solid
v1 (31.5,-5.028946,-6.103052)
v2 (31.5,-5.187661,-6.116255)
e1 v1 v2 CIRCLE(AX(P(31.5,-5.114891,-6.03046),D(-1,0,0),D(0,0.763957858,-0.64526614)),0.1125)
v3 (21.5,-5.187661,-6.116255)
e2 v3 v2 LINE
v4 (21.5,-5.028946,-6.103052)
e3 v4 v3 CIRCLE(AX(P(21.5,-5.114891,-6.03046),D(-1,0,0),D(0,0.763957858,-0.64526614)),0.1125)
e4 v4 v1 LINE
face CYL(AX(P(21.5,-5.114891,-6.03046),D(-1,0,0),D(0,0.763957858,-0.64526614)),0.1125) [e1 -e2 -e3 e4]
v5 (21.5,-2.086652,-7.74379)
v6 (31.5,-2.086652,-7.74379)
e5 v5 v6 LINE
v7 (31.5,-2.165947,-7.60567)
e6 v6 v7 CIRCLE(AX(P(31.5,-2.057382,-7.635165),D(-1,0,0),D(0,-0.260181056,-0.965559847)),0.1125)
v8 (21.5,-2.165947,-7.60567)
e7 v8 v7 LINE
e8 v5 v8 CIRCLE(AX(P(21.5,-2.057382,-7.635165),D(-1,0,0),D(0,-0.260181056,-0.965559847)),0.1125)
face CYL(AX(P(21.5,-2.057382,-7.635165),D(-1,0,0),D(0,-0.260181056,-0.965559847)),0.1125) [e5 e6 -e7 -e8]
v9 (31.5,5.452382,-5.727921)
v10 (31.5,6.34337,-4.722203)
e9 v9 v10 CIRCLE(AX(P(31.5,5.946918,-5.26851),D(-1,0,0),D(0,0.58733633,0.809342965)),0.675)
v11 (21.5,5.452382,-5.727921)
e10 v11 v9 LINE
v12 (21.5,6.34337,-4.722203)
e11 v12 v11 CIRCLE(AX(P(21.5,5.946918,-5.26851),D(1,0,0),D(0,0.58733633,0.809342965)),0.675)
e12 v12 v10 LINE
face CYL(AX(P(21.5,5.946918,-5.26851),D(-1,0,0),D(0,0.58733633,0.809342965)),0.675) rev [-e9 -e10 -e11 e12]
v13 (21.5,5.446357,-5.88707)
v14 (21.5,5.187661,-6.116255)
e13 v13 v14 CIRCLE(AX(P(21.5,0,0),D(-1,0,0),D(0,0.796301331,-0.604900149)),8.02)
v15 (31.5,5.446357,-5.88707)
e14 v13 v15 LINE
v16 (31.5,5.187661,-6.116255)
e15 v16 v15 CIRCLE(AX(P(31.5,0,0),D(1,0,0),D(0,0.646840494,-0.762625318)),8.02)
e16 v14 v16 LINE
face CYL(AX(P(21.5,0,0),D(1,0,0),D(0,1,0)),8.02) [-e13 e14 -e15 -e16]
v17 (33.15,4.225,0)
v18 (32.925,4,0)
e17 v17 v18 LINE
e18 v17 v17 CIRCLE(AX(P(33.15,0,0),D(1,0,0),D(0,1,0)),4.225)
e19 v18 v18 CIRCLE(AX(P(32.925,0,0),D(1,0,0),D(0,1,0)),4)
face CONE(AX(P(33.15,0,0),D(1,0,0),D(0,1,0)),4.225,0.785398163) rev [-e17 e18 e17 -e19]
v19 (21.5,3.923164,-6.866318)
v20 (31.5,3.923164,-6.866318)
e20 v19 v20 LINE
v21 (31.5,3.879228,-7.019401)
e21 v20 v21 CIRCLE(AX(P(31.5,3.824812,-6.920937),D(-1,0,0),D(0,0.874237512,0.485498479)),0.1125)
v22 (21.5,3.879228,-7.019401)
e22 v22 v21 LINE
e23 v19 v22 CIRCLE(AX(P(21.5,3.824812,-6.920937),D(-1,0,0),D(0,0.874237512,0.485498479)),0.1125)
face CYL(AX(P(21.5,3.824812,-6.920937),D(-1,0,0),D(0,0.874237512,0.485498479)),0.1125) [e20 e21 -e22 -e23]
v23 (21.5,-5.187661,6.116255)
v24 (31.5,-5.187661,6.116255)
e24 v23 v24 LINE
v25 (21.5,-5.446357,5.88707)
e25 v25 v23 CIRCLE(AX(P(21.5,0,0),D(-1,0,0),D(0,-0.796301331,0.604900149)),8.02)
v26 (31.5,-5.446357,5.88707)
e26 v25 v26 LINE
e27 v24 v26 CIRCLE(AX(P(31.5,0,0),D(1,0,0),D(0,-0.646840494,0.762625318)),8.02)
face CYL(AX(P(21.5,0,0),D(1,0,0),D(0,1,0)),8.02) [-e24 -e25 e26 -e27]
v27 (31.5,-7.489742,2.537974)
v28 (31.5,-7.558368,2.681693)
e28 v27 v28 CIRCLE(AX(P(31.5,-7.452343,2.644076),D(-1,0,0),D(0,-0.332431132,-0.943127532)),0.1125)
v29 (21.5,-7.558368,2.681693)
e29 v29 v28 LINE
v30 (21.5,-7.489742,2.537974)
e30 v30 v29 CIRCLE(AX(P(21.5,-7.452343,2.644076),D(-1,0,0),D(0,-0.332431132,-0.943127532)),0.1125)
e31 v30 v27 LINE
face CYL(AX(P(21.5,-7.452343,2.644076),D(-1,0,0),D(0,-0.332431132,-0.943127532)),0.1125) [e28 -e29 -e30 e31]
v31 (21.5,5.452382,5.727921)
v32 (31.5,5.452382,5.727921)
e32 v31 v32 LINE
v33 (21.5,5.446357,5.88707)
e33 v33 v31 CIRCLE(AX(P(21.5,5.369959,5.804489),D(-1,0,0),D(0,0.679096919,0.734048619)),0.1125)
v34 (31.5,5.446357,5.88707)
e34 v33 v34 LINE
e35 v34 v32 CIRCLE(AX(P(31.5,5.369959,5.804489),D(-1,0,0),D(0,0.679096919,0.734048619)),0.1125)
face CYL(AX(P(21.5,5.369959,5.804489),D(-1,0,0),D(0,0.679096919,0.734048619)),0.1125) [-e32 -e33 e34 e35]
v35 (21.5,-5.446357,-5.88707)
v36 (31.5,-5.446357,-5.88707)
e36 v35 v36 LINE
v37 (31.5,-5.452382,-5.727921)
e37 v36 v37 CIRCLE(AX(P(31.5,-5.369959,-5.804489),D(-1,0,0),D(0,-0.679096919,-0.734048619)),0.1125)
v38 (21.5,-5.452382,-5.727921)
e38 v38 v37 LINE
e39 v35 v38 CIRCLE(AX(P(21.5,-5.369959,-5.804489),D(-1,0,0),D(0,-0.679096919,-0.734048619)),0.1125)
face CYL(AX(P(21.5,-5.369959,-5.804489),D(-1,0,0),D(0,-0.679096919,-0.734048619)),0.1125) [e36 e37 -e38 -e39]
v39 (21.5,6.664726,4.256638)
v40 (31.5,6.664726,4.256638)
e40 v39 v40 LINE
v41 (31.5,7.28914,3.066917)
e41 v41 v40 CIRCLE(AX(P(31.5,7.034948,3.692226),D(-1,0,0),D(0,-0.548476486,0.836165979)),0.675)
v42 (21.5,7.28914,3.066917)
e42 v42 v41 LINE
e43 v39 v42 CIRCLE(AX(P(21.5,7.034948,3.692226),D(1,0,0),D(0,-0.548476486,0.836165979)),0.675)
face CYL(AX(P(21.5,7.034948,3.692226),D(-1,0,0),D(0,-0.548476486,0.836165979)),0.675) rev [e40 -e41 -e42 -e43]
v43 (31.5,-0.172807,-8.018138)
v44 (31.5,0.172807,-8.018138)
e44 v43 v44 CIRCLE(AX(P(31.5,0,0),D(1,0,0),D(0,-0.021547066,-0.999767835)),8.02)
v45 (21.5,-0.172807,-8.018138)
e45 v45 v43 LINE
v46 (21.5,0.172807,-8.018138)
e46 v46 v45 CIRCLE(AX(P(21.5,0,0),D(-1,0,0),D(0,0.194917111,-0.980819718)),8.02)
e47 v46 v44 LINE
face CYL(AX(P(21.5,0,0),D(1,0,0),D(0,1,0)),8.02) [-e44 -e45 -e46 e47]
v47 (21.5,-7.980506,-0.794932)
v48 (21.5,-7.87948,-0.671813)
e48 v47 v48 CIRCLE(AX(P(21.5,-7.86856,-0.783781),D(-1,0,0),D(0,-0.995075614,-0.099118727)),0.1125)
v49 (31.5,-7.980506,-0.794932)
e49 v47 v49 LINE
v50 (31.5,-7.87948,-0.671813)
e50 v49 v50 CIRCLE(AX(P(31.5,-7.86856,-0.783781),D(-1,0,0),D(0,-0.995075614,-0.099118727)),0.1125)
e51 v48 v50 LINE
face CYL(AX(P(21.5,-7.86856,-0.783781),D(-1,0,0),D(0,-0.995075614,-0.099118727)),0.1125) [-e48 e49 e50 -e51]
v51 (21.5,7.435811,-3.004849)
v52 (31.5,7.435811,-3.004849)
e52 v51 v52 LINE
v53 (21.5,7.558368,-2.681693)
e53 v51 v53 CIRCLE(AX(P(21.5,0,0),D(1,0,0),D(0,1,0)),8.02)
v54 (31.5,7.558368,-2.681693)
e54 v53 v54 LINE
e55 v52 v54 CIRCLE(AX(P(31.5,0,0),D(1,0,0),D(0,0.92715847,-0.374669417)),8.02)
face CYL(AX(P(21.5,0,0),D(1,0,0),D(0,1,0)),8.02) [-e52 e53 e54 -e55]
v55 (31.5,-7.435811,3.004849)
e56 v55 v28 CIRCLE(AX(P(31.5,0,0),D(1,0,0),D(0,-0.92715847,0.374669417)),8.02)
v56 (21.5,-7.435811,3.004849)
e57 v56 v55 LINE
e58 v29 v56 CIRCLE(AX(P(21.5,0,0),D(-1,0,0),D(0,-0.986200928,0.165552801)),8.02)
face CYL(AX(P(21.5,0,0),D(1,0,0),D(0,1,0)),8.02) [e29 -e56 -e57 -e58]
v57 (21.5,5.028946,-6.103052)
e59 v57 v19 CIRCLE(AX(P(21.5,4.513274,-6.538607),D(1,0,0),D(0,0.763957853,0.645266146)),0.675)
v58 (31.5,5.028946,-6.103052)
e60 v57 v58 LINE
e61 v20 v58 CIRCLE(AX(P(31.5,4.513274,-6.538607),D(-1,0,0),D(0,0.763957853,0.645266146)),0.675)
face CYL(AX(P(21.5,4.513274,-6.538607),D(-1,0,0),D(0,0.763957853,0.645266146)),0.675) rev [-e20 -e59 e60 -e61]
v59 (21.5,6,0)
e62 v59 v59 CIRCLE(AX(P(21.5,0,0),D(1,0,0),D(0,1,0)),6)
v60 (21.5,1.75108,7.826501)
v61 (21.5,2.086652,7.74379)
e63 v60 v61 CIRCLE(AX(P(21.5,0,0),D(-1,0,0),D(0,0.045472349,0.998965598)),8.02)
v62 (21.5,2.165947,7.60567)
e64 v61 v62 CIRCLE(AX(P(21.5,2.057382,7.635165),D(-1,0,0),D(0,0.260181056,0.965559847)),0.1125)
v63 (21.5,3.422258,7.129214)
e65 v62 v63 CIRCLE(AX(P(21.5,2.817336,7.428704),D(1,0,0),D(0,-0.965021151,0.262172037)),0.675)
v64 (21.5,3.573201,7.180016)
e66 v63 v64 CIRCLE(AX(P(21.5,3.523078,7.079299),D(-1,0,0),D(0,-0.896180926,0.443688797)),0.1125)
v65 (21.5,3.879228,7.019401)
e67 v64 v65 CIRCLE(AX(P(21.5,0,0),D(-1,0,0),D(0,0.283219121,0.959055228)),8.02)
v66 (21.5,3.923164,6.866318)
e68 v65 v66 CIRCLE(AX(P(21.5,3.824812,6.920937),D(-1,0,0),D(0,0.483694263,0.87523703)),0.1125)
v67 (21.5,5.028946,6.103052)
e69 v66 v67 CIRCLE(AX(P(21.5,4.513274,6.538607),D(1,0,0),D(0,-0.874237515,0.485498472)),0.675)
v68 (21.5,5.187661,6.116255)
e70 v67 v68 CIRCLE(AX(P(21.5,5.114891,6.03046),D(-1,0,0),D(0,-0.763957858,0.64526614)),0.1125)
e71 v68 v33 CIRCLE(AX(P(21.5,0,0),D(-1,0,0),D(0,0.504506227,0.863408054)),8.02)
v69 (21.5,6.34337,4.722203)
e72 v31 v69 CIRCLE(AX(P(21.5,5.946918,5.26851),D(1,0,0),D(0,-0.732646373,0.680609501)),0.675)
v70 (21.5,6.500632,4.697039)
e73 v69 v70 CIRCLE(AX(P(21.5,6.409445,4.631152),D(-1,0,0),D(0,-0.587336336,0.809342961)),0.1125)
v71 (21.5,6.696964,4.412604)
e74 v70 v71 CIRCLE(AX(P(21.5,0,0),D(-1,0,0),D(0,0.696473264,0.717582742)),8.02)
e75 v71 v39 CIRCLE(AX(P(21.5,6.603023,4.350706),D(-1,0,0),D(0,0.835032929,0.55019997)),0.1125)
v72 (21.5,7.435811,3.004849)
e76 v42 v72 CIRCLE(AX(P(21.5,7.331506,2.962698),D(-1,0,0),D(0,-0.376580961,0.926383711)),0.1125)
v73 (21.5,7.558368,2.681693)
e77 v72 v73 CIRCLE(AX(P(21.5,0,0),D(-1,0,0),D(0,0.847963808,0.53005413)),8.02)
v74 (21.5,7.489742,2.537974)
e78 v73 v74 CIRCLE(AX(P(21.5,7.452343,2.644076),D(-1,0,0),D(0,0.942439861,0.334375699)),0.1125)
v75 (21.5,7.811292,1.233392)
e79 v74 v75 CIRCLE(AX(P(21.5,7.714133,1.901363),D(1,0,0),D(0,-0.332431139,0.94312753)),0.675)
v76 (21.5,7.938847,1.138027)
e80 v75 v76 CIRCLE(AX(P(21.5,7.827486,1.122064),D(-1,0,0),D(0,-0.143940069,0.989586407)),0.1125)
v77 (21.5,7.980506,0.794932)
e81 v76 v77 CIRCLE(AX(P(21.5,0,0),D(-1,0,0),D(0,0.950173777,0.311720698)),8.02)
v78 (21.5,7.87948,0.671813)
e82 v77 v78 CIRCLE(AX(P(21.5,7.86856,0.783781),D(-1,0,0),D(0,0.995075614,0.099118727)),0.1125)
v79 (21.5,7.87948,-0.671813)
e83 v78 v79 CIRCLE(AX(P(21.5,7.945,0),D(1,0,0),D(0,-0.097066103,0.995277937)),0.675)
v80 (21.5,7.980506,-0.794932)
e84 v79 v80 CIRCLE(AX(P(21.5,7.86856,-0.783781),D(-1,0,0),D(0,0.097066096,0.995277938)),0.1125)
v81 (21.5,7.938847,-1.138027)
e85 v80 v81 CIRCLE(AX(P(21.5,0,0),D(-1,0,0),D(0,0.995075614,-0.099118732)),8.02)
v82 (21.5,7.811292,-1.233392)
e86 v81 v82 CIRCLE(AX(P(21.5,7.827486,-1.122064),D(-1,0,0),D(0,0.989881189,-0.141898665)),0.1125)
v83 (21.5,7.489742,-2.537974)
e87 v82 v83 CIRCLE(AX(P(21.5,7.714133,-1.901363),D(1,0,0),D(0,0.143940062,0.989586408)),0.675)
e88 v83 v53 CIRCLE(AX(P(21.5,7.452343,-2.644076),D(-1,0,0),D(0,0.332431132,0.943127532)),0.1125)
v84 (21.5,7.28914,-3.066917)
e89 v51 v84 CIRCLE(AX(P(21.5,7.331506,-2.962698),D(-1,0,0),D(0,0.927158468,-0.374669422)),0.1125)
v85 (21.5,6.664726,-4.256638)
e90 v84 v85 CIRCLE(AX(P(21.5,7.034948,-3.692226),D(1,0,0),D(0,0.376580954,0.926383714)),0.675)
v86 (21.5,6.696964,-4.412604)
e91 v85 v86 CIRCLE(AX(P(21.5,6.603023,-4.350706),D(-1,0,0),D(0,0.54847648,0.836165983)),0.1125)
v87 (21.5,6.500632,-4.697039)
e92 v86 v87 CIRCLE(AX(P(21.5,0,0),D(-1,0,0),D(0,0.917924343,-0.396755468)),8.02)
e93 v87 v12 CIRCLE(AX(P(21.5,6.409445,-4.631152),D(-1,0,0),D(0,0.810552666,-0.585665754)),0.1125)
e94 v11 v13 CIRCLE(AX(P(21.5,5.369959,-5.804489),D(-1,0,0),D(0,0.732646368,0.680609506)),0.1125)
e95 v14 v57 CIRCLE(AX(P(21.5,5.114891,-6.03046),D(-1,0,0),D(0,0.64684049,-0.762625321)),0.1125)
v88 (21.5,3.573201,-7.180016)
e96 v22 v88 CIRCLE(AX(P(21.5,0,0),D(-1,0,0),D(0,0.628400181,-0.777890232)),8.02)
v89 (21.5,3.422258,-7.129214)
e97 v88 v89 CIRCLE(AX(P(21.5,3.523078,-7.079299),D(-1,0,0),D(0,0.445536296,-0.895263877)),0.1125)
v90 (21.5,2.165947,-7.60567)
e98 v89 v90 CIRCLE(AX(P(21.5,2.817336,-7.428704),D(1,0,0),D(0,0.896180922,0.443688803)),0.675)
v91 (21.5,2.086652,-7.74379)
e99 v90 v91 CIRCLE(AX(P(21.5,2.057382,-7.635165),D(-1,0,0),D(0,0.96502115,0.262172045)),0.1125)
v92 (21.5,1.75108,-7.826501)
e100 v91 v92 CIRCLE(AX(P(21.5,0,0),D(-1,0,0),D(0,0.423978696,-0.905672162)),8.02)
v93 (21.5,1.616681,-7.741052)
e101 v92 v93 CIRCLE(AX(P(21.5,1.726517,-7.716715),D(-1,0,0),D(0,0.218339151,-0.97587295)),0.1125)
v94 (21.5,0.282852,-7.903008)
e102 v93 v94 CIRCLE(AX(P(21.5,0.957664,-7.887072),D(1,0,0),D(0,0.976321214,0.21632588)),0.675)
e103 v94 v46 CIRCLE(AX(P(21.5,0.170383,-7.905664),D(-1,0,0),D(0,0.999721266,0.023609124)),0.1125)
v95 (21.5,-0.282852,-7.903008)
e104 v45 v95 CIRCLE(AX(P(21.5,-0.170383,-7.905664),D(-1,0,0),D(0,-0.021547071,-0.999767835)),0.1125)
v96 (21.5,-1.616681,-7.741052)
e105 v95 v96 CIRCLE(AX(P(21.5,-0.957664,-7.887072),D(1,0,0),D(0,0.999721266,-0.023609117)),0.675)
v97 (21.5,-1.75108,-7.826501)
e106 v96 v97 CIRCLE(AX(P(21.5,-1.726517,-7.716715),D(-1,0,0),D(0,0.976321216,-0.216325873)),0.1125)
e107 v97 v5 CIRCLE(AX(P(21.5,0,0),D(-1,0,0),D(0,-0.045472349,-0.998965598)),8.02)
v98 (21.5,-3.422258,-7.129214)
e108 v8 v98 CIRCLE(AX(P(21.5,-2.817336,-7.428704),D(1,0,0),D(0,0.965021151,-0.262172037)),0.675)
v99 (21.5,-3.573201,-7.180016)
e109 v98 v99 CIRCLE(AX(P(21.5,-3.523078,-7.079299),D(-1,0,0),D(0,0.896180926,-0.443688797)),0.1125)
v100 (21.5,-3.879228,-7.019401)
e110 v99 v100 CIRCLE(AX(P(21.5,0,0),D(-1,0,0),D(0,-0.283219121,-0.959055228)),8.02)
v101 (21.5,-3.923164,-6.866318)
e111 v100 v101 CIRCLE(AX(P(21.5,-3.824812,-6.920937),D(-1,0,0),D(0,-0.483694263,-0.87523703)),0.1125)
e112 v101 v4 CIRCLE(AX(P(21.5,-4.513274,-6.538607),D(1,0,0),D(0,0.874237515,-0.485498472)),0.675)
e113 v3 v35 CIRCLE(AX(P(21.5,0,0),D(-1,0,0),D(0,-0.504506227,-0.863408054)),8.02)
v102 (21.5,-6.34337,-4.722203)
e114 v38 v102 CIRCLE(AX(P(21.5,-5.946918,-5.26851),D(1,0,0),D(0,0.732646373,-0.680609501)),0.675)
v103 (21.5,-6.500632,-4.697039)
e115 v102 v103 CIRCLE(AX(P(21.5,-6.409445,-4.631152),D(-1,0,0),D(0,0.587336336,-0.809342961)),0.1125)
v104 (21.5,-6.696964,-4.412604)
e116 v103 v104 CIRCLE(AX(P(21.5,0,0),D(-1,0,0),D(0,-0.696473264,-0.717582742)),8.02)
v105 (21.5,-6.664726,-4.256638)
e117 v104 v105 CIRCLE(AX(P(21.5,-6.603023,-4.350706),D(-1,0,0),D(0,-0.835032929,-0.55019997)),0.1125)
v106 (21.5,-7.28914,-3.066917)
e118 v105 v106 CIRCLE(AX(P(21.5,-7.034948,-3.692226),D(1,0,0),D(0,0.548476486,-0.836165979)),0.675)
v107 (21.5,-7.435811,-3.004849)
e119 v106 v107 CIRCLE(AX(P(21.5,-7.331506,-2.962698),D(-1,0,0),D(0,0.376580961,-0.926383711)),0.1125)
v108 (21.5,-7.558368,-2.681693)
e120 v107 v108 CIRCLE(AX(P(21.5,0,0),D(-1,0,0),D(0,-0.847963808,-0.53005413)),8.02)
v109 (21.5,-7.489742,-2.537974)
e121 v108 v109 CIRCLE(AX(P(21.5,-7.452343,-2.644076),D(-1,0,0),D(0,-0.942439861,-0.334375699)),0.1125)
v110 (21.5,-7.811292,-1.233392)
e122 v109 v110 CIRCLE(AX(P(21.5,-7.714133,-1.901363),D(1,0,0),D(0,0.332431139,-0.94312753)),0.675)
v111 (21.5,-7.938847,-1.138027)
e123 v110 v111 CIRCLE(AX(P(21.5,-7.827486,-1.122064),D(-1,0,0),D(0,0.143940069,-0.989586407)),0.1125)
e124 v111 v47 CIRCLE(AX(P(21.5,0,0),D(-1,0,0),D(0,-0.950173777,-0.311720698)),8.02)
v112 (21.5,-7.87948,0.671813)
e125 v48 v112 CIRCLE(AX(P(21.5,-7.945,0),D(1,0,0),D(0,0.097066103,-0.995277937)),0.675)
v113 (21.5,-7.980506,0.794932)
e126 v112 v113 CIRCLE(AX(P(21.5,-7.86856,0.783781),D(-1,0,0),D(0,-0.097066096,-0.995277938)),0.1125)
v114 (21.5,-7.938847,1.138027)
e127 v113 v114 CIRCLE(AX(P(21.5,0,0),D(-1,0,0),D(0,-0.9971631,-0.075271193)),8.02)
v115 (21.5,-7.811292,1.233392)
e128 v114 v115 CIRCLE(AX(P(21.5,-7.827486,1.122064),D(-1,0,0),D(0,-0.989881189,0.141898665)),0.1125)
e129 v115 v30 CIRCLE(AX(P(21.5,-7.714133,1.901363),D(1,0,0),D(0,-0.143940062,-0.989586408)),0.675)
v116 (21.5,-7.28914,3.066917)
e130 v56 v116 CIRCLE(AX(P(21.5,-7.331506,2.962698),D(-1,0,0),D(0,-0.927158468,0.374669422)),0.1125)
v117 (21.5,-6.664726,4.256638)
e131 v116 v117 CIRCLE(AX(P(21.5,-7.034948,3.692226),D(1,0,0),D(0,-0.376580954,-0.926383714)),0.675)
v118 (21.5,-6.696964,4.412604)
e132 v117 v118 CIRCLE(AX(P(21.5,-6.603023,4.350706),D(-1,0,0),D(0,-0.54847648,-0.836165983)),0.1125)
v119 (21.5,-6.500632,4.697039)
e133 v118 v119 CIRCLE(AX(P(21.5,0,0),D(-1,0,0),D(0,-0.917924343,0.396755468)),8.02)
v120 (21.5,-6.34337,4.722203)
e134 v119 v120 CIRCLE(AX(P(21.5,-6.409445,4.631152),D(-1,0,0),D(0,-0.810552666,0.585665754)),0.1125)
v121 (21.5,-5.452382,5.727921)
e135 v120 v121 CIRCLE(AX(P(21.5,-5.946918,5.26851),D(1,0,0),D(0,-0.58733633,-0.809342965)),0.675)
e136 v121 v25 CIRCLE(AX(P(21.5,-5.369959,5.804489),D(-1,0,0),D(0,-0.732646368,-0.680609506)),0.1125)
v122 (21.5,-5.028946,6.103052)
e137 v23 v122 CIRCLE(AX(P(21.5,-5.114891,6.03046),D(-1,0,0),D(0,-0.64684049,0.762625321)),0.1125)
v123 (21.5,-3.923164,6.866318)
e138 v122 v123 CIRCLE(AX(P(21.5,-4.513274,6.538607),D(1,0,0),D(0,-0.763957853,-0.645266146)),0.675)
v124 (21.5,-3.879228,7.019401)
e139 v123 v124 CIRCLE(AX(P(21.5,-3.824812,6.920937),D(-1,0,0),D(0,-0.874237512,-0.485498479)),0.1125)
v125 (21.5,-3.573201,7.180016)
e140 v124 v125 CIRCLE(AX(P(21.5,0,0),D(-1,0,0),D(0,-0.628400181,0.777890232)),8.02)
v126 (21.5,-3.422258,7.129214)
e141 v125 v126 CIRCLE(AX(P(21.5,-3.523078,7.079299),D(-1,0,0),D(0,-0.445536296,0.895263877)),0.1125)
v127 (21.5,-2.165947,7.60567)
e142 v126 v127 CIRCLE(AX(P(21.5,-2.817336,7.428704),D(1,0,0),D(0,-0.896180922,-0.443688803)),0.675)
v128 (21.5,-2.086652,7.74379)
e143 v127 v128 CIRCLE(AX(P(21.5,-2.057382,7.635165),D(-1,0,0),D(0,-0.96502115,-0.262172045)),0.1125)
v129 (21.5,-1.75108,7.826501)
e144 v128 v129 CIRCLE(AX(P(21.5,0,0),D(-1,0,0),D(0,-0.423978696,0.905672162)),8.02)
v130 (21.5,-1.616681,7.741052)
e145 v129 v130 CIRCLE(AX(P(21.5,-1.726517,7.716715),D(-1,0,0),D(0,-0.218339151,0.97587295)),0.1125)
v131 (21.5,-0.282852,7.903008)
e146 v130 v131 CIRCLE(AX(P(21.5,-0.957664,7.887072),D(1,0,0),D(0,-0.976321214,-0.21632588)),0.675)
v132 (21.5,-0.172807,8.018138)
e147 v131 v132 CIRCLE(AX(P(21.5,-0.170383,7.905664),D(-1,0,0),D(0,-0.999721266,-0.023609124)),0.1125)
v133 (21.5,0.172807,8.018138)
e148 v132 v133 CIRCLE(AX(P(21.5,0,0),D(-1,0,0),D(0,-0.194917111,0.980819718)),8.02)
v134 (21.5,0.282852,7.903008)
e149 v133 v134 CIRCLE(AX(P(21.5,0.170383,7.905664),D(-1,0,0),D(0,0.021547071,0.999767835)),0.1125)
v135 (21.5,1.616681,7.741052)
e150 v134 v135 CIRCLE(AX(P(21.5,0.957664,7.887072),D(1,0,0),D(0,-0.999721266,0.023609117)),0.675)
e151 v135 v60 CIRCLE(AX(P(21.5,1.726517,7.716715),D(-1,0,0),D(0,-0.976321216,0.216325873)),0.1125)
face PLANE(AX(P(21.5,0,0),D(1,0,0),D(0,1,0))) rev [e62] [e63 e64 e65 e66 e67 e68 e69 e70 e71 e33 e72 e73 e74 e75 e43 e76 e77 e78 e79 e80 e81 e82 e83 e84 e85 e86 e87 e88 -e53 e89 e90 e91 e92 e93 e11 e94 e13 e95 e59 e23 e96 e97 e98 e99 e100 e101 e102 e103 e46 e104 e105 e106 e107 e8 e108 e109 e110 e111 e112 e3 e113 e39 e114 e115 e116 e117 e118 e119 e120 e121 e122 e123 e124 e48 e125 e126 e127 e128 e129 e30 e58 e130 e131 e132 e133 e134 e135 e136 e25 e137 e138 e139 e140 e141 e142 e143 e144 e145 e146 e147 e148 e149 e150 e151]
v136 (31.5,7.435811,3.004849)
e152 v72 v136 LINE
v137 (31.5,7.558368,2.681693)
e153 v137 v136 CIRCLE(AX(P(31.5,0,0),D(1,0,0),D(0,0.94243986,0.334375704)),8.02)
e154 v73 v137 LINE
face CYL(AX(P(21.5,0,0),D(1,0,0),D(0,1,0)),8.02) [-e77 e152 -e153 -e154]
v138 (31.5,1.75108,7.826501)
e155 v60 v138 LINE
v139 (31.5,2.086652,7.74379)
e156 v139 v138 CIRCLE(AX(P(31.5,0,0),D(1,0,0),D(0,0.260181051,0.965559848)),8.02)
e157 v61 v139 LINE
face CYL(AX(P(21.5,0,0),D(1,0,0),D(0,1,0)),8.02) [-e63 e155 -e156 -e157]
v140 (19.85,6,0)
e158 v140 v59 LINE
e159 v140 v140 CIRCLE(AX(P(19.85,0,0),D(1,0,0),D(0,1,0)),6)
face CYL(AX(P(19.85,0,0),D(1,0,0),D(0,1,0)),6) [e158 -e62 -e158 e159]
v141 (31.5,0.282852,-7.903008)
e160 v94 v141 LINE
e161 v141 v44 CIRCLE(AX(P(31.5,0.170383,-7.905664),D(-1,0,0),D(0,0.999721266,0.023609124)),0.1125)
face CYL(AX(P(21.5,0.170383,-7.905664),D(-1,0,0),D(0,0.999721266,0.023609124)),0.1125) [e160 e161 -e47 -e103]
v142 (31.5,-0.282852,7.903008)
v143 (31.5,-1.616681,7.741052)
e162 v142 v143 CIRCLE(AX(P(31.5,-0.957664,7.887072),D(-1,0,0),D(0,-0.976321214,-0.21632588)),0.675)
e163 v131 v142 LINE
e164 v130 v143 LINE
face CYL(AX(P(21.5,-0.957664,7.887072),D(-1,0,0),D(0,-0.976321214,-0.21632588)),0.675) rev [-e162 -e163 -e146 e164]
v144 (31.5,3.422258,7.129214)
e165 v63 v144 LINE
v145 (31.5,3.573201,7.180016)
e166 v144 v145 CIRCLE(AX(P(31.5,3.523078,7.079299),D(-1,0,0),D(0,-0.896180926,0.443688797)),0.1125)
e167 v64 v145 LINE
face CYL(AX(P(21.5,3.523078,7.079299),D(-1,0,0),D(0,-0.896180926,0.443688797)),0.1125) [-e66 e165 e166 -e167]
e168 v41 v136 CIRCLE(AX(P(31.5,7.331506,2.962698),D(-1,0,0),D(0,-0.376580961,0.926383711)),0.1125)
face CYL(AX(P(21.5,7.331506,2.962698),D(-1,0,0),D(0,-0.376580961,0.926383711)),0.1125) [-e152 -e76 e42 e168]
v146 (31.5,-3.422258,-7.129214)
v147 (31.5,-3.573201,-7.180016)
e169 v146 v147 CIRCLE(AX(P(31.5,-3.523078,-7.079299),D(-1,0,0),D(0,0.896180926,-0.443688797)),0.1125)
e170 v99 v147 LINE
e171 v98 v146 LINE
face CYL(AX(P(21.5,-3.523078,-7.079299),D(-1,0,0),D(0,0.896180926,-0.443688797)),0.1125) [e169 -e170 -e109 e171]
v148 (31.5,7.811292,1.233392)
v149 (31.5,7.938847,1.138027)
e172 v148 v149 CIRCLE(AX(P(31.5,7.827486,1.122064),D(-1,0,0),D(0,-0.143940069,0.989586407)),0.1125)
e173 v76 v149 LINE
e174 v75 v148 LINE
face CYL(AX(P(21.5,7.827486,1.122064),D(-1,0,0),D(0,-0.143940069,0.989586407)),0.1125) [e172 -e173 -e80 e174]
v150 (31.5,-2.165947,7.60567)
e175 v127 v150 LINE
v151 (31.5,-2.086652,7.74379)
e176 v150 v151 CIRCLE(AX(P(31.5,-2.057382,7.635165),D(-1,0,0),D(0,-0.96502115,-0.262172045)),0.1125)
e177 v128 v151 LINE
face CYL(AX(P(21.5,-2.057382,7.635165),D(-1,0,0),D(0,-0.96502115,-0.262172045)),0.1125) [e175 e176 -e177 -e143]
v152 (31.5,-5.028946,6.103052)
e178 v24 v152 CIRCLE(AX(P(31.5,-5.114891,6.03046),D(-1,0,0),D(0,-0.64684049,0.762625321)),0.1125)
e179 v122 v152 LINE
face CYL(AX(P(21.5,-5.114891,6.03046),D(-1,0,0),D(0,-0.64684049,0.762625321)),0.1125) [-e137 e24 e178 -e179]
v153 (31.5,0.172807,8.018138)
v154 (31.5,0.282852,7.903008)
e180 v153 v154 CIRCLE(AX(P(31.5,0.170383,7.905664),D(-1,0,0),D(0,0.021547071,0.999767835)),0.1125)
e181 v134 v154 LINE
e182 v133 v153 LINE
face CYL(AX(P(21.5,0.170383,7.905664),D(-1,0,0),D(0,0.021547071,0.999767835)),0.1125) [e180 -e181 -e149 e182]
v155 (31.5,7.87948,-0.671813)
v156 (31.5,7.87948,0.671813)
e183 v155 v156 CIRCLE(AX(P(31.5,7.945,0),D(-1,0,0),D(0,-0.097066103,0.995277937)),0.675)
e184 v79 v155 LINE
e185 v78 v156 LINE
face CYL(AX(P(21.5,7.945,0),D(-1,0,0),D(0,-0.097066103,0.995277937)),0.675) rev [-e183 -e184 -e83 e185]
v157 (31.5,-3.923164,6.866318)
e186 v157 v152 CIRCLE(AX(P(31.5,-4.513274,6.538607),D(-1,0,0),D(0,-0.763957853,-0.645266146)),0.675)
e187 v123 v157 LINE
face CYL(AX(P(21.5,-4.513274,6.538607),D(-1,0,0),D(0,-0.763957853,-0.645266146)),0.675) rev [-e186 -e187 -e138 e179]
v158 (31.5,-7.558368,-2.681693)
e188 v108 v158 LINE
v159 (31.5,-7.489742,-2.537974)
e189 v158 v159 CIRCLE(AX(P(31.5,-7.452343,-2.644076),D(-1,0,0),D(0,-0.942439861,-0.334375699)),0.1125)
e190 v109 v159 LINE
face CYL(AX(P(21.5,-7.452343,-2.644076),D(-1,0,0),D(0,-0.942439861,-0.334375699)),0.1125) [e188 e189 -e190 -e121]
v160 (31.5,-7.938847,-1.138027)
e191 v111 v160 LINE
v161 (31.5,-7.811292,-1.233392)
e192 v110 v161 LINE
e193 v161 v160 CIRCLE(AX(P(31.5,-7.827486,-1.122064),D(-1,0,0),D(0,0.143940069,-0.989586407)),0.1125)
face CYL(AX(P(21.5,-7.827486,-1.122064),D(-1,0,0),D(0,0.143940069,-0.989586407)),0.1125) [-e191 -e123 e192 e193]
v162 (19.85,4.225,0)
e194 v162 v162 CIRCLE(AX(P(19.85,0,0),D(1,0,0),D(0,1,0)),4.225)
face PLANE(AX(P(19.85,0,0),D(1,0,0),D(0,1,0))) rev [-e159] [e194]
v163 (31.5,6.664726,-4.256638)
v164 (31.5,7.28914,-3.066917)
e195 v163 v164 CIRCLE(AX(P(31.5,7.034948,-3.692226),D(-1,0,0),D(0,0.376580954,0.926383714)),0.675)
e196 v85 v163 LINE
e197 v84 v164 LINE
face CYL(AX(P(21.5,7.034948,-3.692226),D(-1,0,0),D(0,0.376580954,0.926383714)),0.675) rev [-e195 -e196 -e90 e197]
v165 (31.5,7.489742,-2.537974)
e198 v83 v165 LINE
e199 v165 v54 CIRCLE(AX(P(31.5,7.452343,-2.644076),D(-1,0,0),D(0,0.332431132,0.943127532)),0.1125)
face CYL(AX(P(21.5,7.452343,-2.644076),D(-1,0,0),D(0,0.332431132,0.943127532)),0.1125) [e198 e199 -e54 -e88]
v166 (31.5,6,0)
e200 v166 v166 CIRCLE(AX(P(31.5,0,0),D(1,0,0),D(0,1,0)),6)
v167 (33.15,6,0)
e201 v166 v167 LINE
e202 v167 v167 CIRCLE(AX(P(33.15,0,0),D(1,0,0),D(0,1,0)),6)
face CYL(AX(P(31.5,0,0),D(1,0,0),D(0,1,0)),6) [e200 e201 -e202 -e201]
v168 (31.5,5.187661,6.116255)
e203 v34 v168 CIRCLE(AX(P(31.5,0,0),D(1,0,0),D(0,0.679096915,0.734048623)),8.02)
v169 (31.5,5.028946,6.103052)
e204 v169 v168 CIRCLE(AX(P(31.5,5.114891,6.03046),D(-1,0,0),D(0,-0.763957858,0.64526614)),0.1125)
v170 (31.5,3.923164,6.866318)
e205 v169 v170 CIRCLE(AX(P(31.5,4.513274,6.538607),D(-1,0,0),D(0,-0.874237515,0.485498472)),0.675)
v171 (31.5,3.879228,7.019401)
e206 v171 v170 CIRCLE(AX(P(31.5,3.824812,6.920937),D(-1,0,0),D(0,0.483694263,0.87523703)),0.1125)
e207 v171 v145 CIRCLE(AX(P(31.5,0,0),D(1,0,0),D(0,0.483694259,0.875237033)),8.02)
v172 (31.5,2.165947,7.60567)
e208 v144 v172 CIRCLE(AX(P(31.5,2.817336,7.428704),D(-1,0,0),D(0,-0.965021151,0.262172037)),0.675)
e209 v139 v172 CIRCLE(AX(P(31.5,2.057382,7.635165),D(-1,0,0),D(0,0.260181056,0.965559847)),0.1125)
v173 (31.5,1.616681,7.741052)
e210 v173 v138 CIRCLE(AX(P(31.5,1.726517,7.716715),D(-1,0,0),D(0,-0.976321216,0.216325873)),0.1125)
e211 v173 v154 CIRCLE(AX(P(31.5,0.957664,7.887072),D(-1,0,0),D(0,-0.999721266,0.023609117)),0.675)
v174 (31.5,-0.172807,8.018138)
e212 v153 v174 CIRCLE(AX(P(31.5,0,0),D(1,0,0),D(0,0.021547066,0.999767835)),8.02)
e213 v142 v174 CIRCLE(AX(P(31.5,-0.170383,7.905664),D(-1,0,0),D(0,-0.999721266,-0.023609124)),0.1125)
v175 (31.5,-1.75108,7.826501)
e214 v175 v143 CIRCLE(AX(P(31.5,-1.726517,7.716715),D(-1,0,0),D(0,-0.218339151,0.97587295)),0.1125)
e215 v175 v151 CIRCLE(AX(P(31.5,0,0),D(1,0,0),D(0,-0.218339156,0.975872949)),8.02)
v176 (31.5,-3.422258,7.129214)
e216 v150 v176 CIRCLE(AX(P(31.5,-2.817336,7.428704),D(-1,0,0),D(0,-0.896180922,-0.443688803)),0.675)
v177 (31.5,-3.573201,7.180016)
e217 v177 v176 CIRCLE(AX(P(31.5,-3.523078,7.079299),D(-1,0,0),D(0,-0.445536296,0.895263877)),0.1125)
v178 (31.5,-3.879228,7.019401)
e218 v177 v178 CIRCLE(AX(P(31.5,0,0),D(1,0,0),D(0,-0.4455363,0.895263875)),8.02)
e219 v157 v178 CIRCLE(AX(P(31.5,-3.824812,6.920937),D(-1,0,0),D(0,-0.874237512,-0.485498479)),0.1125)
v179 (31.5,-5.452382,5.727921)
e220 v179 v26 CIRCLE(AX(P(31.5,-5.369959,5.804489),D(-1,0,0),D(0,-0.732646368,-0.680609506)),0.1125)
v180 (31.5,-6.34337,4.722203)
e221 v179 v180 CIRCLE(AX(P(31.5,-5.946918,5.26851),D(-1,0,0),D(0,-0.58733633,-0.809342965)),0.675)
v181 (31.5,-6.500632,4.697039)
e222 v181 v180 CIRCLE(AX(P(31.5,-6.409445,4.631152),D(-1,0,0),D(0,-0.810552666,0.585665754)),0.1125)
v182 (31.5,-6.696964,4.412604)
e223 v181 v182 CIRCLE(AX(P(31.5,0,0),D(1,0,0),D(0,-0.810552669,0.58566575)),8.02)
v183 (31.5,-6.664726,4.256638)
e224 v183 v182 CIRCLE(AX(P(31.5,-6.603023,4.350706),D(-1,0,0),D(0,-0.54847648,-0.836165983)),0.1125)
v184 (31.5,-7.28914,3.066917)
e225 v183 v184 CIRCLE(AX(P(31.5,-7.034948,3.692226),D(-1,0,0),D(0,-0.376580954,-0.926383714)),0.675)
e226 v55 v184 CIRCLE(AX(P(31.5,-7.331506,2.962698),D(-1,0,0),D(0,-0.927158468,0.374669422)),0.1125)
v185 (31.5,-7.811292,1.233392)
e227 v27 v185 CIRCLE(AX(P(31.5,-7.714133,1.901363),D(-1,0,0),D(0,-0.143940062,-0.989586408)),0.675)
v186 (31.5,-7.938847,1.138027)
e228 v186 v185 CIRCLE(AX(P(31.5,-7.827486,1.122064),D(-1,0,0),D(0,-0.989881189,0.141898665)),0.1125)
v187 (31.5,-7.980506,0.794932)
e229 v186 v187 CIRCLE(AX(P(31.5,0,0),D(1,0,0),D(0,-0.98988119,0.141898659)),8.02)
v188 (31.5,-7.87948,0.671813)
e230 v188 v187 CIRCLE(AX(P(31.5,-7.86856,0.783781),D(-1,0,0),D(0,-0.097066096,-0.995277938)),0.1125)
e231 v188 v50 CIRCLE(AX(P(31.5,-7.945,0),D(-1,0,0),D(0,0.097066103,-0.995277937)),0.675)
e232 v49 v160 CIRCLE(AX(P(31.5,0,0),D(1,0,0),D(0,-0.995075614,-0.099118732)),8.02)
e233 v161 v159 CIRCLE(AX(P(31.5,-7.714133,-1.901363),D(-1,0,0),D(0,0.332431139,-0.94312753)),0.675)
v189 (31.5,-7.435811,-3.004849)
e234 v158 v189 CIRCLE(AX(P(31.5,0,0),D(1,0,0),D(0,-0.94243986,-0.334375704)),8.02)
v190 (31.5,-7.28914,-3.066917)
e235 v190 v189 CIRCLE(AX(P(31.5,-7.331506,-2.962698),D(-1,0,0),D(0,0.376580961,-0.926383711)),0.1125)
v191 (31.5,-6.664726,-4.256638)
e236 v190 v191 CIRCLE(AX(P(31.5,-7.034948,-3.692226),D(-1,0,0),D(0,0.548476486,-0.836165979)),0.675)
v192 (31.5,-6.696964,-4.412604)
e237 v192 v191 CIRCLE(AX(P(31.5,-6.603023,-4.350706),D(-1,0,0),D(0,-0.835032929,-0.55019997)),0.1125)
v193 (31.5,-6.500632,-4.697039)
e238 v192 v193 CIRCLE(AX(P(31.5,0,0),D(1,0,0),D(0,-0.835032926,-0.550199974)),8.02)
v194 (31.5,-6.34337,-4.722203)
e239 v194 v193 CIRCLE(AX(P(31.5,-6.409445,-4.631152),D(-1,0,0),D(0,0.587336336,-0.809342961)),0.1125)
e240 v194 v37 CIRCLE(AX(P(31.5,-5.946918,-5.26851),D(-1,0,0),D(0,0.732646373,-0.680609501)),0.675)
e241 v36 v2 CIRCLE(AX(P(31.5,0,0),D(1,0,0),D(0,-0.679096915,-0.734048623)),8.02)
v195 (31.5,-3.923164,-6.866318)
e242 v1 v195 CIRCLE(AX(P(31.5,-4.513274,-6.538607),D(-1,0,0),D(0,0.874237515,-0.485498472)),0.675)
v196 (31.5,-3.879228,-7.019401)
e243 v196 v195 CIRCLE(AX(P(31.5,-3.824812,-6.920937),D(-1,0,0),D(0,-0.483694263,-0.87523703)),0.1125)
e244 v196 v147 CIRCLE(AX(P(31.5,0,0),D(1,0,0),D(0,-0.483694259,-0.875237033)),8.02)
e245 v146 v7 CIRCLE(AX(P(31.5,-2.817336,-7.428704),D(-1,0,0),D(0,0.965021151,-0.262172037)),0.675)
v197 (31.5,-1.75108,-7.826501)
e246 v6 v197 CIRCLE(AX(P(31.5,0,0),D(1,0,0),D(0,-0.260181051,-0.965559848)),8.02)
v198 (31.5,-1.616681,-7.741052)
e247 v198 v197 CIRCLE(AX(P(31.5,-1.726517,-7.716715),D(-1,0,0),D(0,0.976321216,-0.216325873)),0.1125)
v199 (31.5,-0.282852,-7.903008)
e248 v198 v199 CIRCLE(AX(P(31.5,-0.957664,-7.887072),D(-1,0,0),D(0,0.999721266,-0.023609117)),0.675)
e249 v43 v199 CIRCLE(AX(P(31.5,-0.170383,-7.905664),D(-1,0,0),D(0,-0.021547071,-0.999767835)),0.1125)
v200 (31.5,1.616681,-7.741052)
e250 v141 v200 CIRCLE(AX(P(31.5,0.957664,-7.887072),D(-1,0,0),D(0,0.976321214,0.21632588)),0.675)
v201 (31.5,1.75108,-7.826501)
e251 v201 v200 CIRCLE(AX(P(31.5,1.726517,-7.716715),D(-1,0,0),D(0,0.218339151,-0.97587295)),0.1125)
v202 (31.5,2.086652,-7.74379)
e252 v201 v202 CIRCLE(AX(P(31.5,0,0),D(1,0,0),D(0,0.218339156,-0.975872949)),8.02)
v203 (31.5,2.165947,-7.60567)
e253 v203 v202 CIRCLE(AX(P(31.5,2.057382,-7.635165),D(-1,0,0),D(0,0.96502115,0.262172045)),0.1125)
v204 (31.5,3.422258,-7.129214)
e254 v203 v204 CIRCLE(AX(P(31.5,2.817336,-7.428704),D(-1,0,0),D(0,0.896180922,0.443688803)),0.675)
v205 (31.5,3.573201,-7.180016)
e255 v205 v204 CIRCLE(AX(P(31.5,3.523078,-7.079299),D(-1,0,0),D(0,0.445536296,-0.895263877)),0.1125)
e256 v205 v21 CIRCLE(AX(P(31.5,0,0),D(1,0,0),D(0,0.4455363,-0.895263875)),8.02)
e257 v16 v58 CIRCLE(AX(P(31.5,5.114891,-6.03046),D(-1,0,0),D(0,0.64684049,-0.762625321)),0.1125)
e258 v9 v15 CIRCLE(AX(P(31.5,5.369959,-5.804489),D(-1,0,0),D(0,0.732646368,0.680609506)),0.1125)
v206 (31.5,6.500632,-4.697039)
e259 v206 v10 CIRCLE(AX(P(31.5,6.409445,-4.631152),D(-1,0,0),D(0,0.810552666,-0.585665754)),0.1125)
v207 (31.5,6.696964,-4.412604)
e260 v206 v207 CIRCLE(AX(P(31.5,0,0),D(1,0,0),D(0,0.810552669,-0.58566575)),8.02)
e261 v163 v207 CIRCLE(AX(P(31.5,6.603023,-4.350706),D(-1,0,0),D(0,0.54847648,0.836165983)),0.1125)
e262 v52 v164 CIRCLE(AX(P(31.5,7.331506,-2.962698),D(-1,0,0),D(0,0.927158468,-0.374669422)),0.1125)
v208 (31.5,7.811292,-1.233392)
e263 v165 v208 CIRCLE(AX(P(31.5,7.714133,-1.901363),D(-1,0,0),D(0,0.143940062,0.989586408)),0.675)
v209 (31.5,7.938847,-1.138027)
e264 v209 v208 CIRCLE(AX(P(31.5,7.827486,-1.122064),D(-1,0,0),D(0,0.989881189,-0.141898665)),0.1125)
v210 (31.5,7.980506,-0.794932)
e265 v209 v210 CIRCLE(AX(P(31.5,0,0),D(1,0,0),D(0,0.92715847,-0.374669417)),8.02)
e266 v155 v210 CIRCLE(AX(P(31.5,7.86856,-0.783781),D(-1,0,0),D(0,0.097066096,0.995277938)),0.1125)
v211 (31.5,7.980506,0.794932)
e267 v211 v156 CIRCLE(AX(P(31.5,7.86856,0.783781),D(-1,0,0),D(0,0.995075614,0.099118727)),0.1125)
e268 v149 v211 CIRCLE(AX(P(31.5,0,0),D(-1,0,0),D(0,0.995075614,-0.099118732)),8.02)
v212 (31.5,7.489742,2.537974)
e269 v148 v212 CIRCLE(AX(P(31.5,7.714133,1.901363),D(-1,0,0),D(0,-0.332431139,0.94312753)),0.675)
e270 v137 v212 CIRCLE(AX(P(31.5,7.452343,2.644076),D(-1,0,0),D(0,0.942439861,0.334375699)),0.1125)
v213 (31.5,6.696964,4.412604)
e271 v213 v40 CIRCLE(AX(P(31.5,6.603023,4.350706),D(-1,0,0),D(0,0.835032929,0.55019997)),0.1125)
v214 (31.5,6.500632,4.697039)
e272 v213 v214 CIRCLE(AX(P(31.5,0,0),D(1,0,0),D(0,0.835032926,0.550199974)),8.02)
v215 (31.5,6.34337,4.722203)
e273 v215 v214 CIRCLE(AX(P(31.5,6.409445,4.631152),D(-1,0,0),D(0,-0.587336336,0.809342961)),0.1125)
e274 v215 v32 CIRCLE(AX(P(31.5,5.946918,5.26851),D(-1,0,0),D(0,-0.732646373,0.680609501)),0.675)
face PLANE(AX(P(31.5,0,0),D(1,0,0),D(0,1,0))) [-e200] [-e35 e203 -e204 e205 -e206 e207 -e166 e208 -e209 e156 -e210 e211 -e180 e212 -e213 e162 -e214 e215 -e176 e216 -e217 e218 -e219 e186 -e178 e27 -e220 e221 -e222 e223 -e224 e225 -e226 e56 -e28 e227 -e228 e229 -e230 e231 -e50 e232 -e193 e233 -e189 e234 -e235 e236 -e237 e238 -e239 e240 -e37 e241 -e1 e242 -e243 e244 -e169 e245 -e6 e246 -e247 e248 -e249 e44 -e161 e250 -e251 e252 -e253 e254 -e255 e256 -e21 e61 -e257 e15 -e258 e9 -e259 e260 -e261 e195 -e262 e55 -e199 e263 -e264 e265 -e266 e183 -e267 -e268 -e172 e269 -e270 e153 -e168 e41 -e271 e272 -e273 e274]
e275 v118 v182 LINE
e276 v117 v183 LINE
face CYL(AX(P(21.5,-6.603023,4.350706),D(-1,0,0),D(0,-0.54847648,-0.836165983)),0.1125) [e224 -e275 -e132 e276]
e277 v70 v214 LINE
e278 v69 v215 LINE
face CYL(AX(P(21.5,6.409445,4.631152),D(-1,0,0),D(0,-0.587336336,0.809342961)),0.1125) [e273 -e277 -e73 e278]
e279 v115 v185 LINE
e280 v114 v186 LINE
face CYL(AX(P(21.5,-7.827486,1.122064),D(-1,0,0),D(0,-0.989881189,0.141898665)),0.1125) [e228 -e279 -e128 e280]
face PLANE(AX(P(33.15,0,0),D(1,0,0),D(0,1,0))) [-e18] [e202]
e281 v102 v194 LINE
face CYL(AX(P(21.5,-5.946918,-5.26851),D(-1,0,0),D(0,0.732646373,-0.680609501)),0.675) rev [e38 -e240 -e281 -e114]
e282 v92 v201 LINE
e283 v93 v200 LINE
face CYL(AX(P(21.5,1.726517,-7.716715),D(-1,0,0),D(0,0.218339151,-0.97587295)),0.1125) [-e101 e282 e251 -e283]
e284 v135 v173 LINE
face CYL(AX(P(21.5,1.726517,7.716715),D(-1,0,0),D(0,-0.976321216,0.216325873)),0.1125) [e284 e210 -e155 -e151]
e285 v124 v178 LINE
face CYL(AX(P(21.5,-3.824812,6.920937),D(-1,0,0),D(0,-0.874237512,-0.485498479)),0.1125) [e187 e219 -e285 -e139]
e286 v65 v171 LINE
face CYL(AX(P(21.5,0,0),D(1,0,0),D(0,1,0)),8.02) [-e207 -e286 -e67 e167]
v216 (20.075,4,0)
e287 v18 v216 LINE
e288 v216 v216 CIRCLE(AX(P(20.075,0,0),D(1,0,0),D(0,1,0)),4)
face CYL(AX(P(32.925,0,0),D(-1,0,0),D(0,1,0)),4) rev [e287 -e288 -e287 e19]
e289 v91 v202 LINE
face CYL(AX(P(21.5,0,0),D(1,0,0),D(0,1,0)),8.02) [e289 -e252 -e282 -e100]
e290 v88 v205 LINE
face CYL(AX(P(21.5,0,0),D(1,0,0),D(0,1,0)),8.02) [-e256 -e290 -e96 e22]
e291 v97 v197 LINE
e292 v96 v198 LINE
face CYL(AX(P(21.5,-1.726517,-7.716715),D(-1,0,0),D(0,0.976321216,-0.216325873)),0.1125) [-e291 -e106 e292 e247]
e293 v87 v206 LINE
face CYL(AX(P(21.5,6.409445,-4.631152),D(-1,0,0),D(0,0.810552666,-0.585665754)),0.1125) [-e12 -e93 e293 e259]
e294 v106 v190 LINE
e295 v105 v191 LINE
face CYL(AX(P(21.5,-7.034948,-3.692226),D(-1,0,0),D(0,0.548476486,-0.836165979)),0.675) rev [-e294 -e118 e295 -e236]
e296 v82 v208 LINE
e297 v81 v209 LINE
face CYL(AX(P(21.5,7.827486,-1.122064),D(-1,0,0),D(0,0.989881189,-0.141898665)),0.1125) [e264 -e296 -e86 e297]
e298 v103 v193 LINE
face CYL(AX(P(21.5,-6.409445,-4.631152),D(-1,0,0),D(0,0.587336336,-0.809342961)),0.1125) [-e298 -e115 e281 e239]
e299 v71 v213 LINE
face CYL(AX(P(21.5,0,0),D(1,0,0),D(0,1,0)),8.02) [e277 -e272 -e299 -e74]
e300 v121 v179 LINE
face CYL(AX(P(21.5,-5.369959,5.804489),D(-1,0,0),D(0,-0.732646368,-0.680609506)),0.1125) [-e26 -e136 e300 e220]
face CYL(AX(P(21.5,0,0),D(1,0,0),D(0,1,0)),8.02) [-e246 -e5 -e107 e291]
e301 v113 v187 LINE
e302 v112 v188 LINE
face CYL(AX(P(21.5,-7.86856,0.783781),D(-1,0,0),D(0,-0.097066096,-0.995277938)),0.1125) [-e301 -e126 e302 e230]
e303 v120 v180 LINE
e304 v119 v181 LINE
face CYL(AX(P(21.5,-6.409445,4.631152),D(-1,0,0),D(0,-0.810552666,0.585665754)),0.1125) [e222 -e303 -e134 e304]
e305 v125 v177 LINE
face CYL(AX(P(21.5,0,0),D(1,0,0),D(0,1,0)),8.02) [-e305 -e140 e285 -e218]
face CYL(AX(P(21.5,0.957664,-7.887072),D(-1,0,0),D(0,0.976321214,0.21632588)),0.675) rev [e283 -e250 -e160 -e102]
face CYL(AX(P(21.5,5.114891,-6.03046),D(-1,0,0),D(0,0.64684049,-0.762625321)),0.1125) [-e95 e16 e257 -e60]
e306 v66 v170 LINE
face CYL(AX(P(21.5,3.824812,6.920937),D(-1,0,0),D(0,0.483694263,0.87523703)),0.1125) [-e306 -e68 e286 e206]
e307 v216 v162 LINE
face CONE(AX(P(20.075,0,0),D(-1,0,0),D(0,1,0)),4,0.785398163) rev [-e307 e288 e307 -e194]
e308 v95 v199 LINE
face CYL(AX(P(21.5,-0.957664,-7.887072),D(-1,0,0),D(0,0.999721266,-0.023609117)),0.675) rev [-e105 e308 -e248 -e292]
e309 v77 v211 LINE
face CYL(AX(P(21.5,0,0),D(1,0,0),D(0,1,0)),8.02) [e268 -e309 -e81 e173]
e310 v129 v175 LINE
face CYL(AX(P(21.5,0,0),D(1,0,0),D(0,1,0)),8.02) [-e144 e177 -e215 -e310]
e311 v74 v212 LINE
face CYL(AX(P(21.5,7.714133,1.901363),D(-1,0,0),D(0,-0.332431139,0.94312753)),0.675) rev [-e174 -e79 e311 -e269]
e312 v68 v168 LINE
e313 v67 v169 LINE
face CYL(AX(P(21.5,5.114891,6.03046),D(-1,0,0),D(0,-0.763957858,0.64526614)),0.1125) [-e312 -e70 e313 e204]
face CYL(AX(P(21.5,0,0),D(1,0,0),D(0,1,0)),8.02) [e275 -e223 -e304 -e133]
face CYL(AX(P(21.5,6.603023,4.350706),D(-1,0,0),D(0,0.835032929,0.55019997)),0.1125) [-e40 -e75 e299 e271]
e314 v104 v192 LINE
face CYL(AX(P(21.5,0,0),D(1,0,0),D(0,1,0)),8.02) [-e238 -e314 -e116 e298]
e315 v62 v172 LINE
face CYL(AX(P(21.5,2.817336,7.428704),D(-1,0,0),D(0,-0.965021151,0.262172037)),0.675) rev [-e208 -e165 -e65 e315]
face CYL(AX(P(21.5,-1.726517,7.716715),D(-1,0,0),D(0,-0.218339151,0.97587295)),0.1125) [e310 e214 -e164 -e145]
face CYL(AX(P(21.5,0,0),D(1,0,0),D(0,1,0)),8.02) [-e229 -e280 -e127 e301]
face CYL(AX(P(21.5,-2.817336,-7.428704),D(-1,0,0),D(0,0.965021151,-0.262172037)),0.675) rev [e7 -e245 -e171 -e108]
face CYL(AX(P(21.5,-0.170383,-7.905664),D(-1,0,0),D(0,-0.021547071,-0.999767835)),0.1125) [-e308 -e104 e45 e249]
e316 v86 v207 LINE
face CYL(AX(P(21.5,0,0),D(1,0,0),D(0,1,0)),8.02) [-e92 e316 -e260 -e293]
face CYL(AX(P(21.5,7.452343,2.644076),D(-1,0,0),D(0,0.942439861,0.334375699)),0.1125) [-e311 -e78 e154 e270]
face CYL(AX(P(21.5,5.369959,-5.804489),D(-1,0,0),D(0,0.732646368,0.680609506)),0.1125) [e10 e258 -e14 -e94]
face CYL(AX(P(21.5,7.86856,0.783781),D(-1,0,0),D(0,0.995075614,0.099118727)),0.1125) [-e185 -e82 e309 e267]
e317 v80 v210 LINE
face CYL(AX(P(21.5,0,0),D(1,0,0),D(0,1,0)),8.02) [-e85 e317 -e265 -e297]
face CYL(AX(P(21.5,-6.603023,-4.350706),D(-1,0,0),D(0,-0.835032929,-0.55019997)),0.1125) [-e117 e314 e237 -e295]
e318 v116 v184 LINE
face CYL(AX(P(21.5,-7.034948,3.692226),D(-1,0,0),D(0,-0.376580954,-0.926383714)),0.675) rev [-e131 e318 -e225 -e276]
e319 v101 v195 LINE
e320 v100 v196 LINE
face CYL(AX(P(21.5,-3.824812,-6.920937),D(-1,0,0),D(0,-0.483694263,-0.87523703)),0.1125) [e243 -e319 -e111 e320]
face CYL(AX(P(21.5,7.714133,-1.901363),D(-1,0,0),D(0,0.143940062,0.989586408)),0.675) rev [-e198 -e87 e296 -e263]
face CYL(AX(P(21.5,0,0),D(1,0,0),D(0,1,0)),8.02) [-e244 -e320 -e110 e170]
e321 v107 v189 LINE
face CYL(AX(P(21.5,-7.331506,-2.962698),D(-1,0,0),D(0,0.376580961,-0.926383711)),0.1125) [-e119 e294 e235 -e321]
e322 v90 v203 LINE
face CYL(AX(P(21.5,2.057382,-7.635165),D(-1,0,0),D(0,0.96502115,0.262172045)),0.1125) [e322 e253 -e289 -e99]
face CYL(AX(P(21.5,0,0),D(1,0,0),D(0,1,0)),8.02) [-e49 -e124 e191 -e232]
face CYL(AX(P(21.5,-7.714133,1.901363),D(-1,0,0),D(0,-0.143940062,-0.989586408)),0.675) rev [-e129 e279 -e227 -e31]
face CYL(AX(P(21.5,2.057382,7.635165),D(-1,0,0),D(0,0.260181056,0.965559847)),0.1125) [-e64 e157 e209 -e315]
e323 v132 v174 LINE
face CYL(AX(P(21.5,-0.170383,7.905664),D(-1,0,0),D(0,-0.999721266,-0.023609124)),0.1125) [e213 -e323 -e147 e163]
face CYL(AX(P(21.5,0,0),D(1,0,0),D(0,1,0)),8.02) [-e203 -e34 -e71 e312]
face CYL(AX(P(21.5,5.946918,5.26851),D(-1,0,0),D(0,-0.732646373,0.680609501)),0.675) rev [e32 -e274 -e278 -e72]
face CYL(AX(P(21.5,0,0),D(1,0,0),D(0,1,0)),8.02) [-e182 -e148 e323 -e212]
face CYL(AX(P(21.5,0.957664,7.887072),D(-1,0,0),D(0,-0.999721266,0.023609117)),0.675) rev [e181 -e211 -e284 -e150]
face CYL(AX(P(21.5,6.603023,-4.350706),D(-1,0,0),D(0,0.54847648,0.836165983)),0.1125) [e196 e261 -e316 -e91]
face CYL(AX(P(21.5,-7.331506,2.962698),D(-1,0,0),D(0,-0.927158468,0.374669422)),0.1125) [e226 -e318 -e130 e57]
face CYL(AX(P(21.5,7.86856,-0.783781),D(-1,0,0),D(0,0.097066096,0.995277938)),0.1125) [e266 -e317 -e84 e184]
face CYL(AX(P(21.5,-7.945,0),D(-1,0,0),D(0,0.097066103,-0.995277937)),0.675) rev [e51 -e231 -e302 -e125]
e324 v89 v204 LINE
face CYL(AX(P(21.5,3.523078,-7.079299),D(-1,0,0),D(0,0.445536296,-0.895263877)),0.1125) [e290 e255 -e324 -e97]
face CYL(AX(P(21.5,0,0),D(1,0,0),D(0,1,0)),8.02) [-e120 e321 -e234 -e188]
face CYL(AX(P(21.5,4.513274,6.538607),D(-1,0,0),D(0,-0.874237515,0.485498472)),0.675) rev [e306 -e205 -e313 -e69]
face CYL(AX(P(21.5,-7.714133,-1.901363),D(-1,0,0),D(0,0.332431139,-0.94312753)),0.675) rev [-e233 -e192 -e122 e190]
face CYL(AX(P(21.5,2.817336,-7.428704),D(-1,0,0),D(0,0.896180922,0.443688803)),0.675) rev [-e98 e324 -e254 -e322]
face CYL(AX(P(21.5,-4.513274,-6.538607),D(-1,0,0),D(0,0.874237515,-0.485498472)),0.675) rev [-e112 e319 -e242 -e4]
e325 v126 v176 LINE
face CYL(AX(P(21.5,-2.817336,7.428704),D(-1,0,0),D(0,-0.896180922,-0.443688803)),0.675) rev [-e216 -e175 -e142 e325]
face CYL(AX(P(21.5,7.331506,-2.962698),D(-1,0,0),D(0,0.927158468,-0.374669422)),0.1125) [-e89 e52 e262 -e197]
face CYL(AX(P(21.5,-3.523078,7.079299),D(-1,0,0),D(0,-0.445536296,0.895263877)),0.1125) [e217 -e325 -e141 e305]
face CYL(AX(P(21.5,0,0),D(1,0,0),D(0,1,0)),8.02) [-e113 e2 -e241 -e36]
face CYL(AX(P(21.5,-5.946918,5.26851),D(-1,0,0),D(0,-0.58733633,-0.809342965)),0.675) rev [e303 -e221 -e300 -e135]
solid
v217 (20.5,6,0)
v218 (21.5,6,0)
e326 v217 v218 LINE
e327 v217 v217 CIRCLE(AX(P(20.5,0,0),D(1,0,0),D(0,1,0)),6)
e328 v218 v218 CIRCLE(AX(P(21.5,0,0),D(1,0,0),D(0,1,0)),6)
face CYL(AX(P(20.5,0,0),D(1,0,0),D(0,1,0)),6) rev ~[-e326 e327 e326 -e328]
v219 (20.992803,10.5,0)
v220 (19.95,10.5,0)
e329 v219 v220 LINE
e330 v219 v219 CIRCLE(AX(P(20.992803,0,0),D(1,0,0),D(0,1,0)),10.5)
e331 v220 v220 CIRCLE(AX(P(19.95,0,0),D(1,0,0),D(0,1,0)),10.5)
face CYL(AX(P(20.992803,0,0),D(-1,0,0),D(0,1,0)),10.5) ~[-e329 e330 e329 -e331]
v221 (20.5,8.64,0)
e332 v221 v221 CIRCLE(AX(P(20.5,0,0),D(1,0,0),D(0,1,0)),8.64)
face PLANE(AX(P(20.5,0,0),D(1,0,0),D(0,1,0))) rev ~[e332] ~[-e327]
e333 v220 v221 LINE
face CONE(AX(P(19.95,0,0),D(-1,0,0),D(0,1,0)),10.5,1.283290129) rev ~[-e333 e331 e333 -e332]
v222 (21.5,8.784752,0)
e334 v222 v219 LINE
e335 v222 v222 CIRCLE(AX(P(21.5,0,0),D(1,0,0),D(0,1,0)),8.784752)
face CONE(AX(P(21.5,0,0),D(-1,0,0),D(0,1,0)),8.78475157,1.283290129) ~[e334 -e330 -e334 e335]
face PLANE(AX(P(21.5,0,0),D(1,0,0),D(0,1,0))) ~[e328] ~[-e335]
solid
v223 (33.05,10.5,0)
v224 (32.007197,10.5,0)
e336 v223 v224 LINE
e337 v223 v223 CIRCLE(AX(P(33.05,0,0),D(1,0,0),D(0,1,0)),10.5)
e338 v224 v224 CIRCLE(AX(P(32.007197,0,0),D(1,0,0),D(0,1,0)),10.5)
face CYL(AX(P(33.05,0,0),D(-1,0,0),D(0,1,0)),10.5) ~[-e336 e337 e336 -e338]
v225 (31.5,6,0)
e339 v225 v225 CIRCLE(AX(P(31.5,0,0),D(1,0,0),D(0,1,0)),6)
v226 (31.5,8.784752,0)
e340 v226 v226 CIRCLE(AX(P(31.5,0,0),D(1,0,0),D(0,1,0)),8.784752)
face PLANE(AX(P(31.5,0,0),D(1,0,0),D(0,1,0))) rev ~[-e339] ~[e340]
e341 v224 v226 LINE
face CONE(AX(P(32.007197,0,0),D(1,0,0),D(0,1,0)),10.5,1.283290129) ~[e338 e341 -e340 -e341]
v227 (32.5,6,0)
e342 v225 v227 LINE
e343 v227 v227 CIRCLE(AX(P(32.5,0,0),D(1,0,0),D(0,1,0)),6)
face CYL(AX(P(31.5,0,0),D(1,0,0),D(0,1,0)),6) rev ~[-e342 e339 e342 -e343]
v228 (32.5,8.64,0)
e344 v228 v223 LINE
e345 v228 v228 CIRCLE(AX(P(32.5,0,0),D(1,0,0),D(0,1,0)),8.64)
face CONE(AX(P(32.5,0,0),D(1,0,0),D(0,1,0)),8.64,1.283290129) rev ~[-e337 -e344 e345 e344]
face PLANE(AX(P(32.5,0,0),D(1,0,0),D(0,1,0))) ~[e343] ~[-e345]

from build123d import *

# Parameters (mm, degrees)
CUT_EXTRUDE1_DEPTH = 33.733366768
CIRPATTERN1_COUNT  = 26


with BuildPart() as part:
    # Sketch1 → Revolve1 (revolve)
    with BuildSketch(Plane.XY):
        Polygon((20.5, 6), (19.85, 6), (19.85, 4.225), (20.075, 4), (32.925, 4), (33.15, 4.225), (33.15, 6), (32.5, 6), (31.5, 6), (31.5, 8.02), (21.5, 8.02), (21.5, 6), align=None)
    revolve(axis=Axis((17.85, 0, 0), (1, 0, 0)))

    # Sketch5 → Cut-Extrude1 (cut, through all)
    with BuildSketch(Plane(origin=(21.5, 0, -21.5), x_dir=(0, 0, 1), z_dir=(-1, 0, 0))):
        with BuildLine():
            Line((19, 7.620393691), (19, 7.888322065))
            ThreePointArc((19, 7.888322065), (21.5, 8.275), (24, 7.888322065))
            Line((24, 7.888322065), (24, 7.620393691))
            ThreePointArc((24, 7.620393691), (23.15727635, 7.846899713), (22.294932233, 7.980506422))
            ThreePointArc((22.294932233, 7.980506422), (22.212418714, 7.955529493), (22.171812608, 7.879480351))
            ThreePointArc((22.171812608, 7.879480351), (21.5, 7.26999997), (20.828187392, 7.879480351))
            ThreePointArc((20.828187392, 7.879480351), (20.787581286, 7.955529493), (20.705067767, 7.980506422))
            ThreePointArc((20.705067767, 7.980506422), (19.84272365, 7.846899713), (19, 7.620393691))
        make_face()
    cut_extrude1 = extrude(amount=-CUT_EXTRUDE1_DEPTH, mode=Mode.SUBTRACT)

    # CirPattern1: Cut-Extrude1 ×26 about axis
    cirpattern1_axis = Axis((17.85, 0, 0), (-1, 0, 0))
    for i in range(1, CIRPATTERN1_COUNT):
        add(cut_extrude1.rotate(cirpattern1_axis, i * 360 / CIRPATTERN1_COUNT), mode=Mode.SUBTRACT)


with BuildPart() as body_2:
    # Sketch1<4> → Revolve2 (revolve)
    with BuildSketch(Plane.XY):
        Polygon((20.5, 8.64), (20.5, 6), (21.5, 6), (21.5, 8.78475157), (20.992802884, 10.5), (19.95, 10.5), align=None)
        Polygon((31.5, 8.78475157), (31.5, 6), (32.5, 6), (32.5, 8.64), (33.05, 10.5), (32.007197116, 10.5), align=None)
    revolve(axis=Axis((17.85, 0, 0), (1, 0, 0)))


solid = Compound([part.part, body_2.part])
